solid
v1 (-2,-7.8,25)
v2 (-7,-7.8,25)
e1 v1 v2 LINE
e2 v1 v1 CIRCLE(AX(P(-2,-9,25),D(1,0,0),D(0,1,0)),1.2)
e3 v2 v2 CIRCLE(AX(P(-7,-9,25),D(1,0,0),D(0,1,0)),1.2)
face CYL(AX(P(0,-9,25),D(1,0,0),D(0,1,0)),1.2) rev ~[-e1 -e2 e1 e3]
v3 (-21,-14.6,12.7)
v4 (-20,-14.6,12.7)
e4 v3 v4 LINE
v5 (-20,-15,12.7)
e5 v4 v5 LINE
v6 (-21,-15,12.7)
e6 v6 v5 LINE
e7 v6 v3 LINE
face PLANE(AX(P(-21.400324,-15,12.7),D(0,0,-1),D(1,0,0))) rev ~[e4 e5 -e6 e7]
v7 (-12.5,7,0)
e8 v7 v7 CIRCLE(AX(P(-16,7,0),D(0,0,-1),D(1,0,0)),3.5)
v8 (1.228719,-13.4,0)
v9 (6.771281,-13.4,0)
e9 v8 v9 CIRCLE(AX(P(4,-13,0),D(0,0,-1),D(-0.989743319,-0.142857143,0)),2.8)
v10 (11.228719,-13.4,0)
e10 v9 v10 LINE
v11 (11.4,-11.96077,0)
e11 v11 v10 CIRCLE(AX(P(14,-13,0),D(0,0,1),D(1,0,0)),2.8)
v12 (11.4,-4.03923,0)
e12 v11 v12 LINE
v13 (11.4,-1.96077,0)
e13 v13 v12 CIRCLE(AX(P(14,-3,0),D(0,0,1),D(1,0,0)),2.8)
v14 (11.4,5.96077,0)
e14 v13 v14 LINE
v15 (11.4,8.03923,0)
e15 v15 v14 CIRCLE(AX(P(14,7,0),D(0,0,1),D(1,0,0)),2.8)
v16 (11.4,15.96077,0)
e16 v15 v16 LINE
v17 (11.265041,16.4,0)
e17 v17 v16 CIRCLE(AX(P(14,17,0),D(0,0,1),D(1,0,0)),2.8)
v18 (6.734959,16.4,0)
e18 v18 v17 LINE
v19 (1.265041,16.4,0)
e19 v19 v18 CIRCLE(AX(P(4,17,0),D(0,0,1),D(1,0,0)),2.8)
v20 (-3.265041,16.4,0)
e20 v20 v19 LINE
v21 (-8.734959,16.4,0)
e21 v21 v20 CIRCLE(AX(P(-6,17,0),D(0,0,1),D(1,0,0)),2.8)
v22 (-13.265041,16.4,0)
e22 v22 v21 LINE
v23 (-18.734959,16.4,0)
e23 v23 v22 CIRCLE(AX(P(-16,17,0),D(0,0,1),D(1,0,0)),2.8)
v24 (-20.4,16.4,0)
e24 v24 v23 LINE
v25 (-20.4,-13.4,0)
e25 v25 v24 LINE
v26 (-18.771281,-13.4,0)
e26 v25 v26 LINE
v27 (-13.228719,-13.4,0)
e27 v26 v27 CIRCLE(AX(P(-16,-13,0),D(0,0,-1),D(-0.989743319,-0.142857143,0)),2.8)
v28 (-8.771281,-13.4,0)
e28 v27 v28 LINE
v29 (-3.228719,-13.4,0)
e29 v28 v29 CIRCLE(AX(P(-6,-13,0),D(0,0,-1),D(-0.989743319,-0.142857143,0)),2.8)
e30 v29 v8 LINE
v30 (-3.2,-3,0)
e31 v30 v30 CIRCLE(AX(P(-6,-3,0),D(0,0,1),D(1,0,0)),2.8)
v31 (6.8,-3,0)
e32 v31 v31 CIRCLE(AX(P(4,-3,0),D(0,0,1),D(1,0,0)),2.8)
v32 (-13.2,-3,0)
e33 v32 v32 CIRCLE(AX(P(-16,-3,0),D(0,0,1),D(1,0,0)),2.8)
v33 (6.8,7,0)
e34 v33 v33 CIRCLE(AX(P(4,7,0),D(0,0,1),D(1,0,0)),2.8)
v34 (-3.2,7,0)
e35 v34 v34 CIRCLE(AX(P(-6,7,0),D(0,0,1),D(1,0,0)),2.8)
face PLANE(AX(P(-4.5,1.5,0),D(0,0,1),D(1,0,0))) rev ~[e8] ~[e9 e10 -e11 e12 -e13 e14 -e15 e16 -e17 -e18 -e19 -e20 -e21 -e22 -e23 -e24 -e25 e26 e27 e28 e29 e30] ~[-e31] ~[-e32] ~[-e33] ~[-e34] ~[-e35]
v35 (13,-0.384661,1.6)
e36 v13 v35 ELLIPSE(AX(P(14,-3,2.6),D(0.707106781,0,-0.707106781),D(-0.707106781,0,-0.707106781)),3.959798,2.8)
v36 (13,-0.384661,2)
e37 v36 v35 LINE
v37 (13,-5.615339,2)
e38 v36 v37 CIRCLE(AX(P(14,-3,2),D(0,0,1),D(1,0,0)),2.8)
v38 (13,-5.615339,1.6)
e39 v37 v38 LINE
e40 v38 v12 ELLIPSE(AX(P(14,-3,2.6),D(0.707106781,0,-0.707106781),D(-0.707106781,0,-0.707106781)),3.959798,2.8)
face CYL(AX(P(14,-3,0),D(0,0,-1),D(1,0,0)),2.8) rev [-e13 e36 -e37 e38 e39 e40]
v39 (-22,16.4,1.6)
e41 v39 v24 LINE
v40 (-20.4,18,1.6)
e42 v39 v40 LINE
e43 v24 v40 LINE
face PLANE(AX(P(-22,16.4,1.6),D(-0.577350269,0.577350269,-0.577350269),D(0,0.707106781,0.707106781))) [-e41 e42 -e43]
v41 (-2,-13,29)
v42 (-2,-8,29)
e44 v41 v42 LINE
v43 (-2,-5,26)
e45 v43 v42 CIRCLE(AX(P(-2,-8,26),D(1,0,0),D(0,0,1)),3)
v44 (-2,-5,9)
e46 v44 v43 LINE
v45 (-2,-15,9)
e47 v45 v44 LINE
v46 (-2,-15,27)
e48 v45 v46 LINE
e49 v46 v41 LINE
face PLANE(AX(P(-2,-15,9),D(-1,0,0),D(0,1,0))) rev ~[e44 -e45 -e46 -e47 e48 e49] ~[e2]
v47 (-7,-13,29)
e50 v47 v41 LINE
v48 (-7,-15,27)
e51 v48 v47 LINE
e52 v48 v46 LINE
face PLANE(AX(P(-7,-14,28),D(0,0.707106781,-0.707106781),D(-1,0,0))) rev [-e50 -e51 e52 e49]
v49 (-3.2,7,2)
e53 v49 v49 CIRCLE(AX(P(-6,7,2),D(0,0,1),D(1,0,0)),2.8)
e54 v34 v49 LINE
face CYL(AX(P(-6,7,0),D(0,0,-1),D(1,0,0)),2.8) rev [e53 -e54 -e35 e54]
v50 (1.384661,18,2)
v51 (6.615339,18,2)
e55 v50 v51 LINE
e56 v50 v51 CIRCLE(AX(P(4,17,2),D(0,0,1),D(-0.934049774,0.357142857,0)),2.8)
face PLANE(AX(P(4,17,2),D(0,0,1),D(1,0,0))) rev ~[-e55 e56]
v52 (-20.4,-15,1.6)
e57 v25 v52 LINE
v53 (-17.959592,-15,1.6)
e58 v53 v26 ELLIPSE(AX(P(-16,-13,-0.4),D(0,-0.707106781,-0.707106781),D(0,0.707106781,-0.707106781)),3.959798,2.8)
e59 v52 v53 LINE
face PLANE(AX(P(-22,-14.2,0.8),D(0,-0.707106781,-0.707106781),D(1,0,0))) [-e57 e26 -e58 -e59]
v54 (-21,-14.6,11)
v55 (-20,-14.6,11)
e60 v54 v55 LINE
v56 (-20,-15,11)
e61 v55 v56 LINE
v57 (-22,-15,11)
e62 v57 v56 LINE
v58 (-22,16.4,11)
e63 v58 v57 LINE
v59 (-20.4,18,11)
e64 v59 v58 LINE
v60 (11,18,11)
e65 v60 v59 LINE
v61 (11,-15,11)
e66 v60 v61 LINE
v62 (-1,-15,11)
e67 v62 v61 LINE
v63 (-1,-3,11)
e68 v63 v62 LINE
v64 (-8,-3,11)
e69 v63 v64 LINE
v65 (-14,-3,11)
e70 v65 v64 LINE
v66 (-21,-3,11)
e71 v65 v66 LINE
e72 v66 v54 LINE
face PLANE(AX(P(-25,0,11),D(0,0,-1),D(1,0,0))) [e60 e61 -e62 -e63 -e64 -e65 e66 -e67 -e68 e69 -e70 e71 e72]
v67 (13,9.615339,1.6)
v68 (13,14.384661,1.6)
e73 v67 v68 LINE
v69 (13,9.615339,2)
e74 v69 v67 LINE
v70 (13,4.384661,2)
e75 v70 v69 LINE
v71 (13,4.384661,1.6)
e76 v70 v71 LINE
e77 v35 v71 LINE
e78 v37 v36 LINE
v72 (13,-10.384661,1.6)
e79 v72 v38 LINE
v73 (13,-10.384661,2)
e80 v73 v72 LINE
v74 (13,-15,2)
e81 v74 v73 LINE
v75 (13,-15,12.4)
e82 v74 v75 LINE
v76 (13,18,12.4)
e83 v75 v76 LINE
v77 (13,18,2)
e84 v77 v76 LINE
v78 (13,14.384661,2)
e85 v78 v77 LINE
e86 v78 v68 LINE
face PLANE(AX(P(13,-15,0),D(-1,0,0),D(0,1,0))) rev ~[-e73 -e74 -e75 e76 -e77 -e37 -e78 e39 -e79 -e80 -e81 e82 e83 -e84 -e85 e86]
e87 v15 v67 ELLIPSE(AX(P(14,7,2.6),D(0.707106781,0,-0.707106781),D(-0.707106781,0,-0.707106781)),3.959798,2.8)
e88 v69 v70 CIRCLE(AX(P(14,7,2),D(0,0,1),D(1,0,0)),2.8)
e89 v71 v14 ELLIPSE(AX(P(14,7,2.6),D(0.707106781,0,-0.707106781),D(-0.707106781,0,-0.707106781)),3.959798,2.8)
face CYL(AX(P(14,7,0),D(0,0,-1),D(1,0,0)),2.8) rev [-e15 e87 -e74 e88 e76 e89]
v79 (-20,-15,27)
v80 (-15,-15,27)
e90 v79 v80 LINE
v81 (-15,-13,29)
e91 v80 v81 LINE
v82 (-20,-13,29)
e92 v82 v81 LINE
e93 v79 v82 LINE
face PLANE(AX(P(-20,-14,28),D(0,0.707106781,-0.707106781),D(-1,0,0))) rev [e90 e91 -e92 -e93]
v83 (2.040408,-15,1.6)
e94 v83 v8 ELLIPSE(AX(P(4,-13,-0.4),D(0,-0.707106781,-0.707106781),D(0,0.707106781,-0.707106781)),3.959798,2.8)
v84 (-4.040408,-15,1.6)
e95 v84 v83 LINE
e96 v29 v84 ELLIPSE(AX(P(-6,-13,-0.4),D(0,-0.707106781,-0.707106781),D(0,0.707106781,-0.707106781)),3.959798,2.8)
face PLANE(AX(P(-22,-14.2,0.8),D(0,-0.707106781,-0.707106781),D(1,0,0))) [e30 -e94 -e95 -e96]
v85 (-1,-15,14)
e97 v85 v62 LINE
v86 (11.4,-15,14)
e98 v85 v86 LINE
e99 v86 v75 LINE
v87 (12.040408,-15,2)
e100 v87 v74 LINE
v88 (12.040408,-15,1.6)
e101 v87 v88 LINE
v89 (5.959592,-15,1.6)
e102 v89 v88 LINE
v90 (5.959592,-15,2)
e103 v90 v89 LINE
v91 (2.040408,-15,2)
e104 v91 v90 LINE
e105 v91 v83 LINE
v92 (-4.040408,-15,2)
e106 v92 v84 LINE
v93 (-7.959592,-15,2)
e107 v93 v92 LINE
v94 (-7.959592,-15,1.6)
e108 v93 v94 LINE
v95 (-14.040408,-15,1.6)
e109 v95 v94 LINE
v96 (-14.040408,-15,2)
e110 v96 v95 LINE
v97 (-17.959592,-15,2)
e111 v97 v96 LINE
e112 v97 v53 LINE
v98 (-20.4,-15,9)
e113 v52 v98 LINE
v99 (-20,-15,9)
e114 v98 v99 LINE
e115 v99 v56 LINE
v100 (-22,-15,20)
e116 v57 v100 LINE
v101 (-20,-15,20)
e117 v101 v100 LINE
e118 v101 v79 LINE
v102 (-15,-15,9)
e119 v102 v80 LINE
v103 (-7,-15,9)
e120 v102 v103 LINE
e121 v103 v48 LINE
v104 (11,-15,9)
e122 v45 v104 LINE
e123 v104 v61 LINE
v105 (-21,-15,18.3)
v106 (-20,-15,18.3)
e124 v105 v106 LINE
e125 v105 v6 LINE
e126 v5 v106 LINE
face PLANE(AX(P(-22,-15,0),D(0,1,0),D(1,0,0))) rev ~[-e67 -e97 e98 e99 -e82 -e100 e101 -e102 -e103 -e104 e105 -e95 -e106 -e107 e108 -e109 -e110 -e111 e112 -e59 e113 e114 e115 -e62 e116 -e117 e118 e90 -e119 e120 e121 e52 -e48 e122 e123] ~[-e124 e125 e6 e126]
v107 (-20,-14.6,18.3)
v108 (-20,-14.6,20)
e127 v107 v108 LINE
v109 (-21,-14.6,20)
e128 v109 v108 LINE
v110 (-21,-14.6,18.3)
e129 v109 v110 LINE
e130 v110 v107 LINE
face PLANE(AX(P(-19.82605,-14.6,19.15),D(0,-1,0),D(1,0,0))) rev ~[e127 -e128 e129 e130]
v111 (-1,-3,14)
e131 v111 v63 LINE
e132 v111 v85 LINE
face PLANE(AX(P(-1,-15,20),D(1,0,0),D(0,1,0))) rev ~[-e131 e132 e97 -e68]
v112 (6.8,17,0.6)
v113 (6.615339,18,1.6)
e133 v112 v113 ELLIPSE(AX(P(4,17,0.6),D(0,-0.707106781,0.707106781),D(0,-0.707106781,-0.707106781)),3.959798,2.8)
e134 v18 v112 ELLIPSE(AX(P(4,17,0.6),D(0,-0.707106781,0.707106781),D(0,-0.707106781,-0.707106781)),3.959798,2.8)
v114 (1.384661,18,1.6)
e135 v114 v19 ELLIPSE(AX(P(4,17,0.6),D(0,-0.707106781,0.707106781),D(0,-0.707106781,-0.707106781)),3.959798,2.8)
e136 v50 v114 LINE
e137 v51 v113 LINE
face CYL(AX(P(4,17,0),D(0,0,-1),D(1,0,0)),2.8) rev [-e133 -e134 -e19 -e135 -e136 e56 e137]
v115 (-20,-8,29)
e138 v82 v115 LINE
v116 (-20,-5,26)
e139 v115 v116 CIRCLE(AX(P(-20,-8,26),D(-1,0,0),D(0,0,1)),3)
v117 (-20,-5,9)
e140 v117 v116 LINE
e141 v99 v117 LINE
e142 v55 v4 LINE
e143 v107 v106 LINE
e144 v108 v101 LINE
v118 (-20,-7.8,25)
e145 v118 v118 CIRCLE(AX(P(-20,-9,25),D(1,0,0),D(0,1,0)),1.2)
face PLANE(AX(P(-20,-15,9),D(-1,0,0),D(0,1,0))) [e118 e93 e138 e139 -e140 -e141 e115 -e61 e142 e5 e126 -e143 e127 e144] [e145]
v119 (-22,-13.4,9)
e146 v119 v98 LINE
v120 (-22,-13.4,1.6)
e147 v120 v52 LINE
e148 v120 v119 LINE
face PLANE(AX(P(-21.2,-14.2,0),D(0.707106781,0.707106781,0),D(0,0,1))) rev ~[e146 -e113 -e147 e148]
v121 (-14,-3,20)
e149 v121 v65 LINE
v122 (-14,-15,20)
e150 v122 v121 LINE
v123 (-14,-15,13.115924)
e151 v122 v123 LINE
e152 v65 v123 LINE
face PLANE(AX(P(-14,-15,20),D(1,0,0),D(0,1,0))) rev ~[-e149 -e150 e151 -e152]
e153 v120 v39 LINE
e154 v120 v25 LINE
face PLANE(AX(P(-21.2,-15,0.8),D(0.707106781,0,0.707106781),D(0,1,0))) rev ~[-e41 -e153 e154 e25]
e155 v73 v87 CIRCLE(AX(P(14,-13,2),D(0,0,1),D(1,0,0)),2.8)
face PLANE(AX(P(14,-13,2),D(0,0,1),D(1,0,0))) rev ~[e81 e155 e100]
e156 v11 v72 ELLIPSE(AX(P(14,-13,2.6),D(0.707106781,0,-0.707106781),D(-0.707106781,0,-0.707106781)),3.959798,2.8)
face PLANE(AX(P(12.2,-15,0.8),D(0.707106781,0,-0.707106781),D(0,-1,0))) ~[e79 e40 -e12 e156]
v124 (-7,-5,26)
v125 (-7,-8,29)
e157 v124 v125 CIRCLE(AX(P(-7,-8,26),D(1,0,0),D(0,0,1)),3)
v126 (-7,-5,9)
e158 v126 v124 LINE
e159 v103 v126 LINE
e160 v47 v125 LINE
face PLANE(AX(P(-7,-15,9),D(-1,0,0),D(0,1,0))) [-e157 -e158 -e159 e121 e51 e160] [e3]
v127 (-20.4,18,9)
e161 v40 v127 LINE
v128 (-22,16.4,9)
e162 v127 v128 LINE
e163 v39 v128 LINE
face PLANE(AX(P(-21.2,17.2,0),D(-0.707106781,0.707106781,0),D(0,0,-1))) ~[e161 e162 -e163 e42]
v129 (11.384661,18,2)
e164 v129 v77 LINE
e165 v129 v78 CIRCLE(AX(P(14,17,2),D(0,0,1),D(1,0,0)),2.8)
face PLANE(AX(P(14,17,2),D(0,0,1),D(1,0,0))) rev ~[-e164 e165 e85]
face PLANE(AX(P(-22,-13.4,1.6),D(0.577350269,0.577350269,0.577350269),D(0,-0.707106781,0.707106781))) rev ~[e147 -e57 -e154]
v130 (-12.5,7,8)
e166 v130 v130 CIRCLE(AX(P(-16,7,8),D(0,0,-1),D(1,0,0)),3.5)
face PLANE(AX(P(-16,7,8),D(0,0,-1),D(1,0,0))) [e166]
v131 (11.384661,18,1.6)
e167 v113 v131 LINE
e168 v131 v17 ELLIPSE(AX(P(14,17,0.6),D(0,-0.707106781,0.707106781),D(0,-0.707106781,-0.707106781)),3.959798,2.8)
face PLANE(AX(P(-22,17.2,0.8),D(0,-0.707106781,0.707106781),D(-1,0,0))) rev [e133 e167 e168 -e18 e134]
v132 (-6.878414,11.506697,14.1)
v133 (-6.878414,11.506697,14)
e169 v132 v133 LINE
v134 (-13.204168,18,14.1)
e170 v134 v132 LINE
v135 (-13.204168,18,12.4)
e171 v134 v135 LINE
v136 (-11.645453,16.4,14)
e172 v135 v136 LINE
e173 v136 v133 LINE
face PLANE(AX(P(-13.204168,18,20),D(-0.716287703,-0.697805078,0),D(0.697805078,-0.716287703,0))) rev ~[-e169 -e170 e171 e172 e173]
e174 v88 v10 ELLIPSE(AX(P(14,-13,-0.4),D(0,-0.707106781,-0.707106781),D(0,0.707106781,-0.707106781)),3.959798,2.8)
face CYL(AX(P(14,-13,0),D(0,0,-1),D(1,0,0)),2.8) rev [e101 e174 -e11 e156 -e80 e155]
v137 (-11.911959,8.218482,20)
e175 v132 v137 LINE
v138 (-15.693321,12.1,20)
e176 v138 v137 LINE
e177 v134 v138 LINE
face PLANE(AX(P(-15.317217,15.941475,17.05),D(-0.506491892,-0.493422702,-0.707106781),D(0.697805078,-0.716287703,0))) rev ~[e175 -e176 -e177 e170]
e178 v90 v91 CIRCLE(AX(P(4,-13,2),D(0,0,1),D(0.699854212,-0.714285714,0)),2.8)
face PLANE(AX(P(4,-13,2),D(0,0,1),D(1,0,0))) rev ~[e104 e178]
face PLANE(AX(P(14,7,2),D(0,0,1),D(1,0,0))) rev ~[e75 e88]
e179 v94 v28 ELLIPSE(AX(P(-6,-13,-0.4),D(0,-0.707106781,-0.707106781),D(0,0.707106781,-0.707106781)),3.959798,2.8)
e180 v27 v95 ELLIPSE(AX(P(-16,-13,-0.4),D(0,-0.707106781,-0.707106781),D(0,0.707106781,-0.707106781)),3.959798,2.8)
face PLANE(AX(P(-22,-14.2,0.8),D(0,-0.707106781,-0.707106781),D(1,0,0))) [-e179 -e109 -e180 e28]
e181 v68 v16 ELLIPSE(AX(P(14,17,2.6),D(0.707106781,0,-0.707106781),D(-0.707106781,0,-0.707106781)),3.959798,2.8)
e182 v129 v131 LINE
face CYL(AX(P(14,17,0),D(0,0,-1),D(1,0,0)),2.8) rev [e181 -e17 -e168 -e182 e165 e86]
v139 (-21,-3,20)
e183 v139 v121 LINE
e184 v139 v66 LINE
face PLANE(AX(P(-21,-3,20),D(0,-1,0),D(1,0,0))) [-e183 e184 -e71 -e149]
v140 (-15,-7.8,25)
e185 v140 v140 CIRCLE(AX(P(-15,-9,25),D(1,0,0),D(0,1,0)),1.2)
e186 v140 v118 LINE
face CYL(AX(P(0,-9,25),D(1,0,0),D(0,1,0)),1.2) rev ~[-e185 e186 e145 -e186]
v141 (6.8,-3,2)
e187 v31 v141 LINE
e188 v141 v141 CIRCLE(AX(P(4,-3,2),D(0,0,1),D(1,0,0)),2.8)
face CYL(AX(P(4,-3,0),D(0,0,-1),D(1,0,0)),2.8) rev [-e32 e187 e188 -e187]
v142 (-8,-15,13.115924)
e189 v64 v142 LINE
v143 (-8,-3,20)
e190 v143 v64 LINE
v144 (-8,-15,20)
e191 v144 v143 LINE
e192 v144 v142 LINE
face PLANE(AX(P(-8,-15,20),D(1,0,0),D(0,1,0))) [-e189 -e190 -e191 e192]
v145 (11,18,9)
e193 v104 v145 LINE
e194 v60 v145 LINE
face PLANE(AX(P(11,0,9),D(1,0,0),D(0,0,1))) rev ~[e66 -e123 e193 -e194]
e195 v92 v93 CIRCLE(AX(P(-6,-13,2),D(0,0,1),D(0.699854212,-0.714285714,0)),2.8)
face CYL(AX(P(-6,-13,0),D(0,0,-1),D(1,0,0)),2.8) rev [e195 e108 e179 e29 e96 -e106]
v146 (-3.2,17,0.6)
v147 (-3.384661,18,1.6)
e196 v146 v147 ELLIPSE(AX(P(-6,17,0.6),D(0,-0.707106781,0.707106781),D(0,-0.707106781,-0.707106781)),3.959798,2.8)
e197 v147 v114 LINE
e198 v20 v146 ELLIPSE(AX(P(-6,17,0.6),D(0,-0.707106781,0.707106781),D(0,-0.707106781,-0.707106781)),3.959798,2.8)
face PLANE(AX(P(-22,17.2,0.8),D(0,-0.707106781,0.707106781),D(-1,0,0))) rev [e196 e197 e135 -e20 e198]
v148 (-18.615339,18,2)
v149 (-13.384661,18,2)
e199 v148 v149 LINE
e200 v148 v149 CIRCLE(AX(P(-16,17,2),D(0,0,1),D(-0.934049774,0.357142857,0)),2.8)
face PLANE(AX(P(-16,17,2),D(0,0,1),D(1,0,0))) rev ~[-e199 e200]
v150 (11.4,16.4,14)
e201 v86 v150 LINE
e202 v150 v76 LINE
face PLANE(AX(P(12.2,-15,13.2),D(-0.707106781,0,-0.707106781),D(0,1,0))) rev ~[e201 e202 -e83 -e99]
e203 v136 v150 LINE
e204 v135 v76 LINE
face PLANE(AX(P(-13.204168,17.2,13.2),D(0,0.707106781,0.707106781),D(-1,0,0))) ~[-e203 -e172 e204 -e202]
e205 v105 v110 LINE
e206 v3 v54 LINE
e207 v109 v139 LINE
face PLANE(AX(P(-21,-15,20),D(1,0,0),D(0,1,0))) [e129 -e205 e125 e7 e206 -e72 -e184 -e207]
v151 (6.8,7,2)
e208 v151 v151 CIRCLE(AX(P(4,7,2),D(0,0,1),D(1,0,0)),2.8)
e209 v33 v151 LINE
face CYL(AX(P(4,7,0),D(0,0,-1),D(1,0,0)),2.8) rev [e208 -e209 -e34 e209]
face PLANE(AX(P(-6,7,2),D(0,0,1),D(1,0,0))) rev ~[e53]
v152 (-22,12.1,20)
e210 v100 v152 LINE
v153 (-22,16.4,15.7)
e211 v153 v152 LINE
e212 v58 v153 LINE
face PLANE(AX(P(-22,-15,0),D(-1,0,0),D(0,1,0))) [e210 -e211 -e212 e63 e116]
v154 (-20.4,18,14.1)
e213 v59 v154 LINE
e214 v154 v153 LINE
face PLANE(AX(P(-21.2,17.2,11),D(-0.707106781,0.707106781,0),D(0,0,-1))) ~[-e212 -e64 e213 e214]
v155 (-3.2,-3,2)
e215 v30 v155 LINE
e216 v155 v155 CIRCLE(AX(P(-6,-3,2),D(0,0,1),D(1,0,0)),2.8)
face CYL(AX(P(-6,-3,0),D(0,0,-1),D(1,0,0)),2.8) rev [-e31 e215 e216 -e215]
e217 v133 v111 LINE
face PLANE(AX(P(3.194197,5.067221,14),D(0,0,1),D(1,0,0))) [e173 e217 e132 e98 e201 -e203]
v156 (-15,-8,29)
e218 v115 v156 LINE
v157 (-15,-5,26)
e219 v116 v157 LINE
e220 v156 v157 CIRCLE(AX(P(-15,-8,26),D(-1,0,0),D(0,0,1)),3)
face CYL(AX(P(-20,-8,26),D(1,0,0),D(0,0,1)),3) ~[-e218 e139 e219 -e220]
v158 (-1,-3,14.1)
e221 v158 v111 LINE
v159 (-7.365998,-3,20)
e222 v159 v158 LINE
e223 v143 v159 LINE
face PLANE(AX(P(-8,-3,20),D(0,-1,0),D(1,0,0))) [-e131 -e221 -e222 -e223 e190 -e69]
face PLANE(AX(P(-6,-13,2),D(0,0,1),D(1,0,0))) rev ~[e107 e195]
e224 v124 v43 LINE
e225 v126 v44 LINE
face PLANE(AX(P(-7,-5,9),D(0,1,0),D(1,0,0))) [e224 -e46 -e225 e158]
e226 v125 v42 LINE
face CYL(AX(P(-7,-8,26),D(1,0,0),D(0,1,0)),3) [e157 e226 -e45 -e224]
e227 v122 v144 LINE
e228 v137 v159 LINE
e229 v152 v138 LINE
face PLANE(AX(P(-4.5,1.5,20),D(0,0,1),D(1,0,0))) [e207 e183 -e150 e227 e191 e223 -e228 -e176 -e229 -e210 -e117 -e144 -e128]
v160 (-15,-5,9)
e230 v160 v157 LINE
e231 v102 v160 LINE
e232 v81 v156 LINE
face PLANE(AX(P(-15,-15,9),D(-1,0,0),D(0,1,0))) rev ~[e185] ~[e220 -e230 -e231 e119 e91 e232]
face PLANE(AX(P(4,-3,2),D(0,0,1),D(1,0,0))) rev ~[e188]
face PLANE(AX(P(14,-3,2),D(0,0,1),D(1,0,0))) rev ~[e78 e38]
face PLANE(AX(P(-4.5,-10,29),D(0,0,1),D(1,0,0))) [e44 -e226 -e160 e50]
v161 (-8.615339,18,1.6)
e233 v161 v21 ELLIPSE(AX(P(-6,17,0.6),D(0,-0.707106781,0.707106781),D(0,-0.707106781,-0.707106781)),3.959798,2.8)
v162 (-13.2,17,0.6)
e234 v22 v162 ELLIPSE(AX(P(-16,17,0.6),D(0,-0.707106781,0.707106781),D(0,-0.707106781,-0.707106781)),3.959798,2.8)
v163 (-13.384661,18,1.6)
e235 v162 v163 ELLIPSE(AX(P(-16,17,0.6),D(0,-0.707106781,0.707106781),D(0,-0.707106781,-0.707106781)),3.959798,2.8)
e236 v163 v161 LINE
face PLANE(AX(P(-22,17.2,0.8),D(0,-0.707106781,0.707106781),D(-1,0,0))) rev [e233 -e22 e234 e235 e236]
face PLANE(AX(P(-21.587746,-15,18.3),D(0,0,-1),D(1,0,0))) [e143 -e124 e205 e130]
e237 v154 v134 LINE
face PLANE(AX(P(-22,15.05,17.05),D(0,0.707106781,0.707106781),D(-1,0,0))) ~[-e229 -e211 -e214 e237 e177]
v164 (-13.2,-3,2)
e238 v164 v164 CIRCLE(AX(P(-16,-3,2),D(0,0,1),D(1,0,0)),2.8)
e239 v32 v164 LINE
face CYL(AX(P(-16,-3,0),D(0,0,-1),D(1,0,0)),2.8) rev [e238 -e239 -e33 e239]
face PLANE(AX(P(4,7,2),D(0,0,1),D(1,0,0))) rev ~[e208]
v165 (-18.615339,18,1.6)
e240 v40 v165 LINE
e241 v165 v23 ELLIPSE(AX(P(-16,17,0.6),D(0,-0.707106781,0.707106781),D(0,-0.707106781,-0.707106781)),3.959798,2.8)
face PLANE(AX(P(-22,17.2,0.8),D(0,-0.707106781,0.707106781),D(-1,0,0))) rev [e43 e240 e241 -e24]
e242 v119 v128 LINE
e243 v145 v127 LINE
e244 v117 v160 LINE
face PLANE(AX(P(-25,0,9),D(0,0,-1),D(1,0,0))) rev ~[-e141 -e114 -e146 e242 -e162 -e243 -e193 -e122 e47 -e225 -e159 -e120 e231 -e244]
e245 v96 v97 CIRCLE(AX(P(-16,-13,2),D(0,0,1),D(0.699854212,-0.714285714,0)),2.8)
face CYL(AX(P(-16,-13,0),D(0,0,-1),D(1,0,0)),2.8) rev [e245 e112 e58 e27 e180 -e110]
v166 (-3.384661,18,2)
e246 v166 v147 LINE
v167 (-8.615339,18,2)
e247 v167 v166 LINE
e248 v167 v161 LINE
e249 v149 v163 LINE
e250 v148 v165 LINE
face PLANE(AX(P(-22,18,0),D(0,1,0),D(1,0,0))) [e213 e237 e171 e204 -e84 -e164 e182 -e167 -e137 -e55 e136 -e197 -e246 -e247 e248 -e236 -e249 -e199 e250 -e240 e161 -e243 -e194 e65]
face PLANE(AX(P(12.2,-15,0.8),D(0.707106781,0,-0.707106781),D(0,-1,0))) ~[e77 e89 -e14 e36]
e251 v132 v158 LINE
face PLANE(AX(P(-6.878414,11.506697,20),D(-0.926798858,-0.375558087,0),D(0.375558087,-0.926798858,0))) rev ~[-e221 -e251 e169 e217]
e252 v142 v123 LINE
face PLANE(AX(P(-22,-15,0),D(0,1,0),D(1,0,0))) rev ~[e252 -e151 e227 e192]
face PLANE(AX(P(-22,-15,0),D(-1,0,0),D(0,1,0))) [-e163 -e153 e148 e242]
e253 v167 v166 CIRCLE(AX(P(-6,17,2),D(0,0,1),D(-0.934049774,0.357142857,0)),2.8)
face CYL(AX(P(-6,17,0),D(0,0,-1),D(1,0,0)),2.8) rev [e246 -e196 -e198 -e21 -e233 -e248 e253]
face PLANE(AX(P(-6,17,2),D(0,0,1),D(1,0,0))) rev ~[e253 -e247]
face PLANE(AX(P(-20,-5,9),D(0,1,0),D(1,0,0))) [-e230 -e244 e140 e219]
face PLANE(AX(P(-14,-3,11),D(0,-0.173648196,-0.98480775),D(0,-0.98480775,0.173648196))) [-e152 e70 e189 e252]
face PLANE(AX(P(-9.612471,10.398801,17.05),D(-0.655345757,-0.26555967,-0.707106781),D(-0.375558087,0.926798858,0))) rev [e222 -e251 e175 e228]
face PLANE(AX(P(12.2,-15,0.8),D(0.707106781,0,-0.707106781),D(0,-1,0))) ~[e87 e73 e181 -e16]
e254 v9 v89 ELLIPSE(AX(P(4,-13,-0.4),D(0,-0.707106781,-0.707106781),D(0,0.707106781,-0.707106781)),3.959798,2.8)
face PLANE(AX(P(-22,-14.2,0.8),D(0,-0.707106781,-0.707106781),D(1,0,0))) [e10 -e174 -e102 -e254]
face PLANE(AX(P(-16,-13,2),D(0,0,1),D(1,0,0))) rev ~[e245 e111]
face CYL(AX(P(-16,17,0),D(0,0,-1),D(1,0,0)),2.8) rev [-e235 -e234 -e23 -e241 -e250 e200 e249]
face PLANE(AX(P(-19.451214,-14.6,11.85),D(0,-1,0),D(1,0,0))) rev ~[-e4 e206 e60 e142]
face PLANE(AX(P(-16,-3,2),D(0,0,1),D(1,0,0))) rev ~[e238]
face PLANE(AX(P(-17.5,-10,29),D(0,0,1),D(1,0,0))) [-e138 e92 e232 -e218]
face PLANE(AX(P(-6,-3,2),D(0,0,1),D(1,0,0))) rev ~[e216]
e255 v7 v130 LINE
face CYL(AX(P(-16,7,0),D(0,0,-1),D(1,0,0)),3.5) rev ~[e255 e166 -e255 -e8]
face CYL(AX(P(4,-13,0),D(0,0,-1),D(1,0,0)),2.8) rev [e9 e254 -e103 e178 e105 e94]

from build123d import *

# Parameters (mm, degrees)
SKETCH_W             = 35
SKETCH_H             = 33
PAD_DEPTH            = 20
SKETCH001_W          = 7
SKETCH001_H          = 12
POCKET_DEPTH         = 10
SKETCH004_W          = 36
SKETCH004_H          = 2
POCKET002_DEPTH      = 18.001
POCKET002_DEPTH_BACK = 15.001
SKETCH002_W          = 5
SKETCH002_H          = 10
PAD001_DEPTH         = 20
SKETCH003_R          = 1.2
POCKET001_DEPTH      = 22.001
POCKET003_DEPTH      = 6
CHAMFER_SIZE         = 5.9
CHAMFER001_SIZE      = 1.6
CHAMFER002_SIZE      = 2
FILLET_R             = 3
SKETCH010_R          = 2.8
POCKET006_DEPTH      = 2
LINEARPATTERN_COUNT  = 4
LINEARPATTERN_PITCH  = 10
SKETCH012_R          = 3.5
POCKET007_DEPTH      = 8
SKETCH013_W          = 3.523392
SKETCH013_H          = 1.7
SKETCH013_W_2        = 3.89822
PAD003_DEPTH         = 0.4
POCKET008_DEPTH      = 6


with BuildPart() as part:
    # Sketch → Pad (new body)
    with BuildSketch(Plane.XY):
        with Locations((-4.5, 1.5)):
            Rectangle(SKETCH_W, SKETCH_H)
    extrude(amount=PAD_DEPTH)

    # Sketch001 (on Face6 of Pad) → Pocket (cut)
    with BuildSketch(Plane.XY.offset(20)):
        with Locations((-17.5, -9)):
            Rectangle(SKETCH001_W, SKETCH001_H)
        with Locations((-4.5, -9)):
            Rectangle(SKETCH001_W, SKETCH001_H)
    extrude(amount=-POCKET_DEPTH, mode=Mode.SUBTRACT)

    # Sketch004 → Pocket002 (cut, two sides)
    with BuildSketch(Plane.XZ) as pocket002_sk:
        with Locations((-7, 10)):
            Rectangle(SKETCH004_W, SKETCH004_H)
    extrude(amount=-POCKET002_DEPTH, mode=Mode.SUBTRACT)
    extrude(pocket002_sk.sketch, amount=POCKET002_DEPTH_BACK, mode=Mode.SUBTRACT)

    # Sketch002 (on Face8 of Pocket002) → Pad001 (join)
    with BuildSketch(Plane.XY.offset(9)):
        with Locations((-17.5, -10)):
            Rectangle(SKETCH002_W, SKETCH002_H)
        with Locations((-4.5, -10)):
            Rectangle(SKETCH002_W, SKETCH002_H)
    extrude(amount=PAD001_DEPTH)

    # Sketch003 → Pocket001 (cut, through all)
    with BuildSketch(Plane.YZ):
        with Locations((-9, 25)):
            Circle(SKETCH003_R)
    extrude(amount=-POCKET001_DEPTH, mode=Mode.SUBTRACT)

    # Sketch005 (on Face4 of Pocket001) → Pocket003 (cut)
    with BuildSketch(Plane.XY.offset(20)):
        Polygon((-6.878414, 11.506697), (-1, -3), (-1, -16.521692), (16.145611, -16.521692), (16.145611, 20.333527), (-18.556482, 20.333527), (-13.204168, 18), align=None)
    extrude(amount=-POCKET003_DEPTH, mode=Mode.SUBTRACT)

    # Chamfer
    chamfer_edges = [part.edges().sort_by_distance(p)[0] for p in [
        (-17.602084, 18, 20),
        (-10.041291, 14.753349, 20),
        (-3.939207, 4.253349, 20),
    ]]
    chamfer(chamfer_edges, length=CHAMFER_SIZE)

    # Chamfer001
    chamfer001_edges = [part.edges().sort_by_distance(p)[0] for p in [
        (-4.5, 18, 0),
        (13, 1.5, 0),
        (-4.5, -15, 0),
        (-22, 1.5, 0),
        (-22, 18, 4.5),
        (-22, -15, 4.5),
        (-22, 18, 12.55),
        (13, 1.5, 14),
        (-0.102084, 18, 14),
    ]]
    chamfer(chamfer001_edges, length=CHAMFER001_SIZE)

    # Chamfer002
    chamfer002_edges = [part.edges().sort_by_distance(p)[0] for p in [
        (-17.5, -15, 29),
        (-4.5, -15, 29),
    ]]
    chamfer(chamfer002_edges, length=CHAMFER002_SIZE)

    # Fillet
    fillet_edges = [part.edges().sort_by_distance(p)[0] for p in [
        (-4.5, -5, 29),
        (-17.5, -5, 29),
    ]]
    fillet(fillet_edges, radius=FILLET_R)

    # Sketch010 → Pocket006 (cut)
    with BuildSketch(Plane.XY):
        with Locations((14, -13)):
            Circle(SKETCH010_R)
        with Locations((4, -13)):
            Circle(SKETCH010_R)
        with Locations((-6, -13)):
            Circle(SKETCH010_R)
        with Locations((-16, -13)):
            Circle(SKETCH010_R)
    pocket006 = extrude(amount=POCKET006_DEPTH, mode=Mode.SUBTRACT)

    # LinearPattern: Pocket006 ×4
    with Locations(*[(0, i * LINEARPATTERN_PITCH, 0) for i in range(1, LINEARPATTERN_COUNT)]):
        add(pocket006, mode=Mode.SUBTRACT)

    # Sketch012 (on Face5 of Pad) → Pocket007 (cut)
    with BuildSketch(Plane(origin=(0, 0, 0), x_dir=(1, 0, 0), z_dir=(0, 0, -1))):
        with Locations((-16, -7)):
            Circle(SKETCH012_R)
    extrude(amount=-POCKET007_DEPTH, mode=Mode.SUBTRACT)

    # Sketch013 (on Face3 of Pad) → Pad003 (join)
    with BuildSketch(Plane.XZ.offset(15)):
        with Locations((-19.82605, 19.15)):
            Rectangle(SKETCH013_W, SKETCH013_H)
        with Locations((-19.451214, 11.85)):
            Rectangle(SKETCH013_W_2, SKETCH013_H)
    extrude(amount=-PAD003_DEPTH)

    # Sketch014 (on Face9 of Pocket) → Pocket008 (cut)
    with BuildSketch(Plane(origin=(-14, 0, 0), x_dir=(0, -1, 0), z_dir=(-1, 0, 0))):
        Polygon((3, 11), (23, 14.52654), (23, 11), align=None)
    extrude(amount=-POCKET008_DEPTH, mode=Mode.SUBTRACT)


solid = part.part
